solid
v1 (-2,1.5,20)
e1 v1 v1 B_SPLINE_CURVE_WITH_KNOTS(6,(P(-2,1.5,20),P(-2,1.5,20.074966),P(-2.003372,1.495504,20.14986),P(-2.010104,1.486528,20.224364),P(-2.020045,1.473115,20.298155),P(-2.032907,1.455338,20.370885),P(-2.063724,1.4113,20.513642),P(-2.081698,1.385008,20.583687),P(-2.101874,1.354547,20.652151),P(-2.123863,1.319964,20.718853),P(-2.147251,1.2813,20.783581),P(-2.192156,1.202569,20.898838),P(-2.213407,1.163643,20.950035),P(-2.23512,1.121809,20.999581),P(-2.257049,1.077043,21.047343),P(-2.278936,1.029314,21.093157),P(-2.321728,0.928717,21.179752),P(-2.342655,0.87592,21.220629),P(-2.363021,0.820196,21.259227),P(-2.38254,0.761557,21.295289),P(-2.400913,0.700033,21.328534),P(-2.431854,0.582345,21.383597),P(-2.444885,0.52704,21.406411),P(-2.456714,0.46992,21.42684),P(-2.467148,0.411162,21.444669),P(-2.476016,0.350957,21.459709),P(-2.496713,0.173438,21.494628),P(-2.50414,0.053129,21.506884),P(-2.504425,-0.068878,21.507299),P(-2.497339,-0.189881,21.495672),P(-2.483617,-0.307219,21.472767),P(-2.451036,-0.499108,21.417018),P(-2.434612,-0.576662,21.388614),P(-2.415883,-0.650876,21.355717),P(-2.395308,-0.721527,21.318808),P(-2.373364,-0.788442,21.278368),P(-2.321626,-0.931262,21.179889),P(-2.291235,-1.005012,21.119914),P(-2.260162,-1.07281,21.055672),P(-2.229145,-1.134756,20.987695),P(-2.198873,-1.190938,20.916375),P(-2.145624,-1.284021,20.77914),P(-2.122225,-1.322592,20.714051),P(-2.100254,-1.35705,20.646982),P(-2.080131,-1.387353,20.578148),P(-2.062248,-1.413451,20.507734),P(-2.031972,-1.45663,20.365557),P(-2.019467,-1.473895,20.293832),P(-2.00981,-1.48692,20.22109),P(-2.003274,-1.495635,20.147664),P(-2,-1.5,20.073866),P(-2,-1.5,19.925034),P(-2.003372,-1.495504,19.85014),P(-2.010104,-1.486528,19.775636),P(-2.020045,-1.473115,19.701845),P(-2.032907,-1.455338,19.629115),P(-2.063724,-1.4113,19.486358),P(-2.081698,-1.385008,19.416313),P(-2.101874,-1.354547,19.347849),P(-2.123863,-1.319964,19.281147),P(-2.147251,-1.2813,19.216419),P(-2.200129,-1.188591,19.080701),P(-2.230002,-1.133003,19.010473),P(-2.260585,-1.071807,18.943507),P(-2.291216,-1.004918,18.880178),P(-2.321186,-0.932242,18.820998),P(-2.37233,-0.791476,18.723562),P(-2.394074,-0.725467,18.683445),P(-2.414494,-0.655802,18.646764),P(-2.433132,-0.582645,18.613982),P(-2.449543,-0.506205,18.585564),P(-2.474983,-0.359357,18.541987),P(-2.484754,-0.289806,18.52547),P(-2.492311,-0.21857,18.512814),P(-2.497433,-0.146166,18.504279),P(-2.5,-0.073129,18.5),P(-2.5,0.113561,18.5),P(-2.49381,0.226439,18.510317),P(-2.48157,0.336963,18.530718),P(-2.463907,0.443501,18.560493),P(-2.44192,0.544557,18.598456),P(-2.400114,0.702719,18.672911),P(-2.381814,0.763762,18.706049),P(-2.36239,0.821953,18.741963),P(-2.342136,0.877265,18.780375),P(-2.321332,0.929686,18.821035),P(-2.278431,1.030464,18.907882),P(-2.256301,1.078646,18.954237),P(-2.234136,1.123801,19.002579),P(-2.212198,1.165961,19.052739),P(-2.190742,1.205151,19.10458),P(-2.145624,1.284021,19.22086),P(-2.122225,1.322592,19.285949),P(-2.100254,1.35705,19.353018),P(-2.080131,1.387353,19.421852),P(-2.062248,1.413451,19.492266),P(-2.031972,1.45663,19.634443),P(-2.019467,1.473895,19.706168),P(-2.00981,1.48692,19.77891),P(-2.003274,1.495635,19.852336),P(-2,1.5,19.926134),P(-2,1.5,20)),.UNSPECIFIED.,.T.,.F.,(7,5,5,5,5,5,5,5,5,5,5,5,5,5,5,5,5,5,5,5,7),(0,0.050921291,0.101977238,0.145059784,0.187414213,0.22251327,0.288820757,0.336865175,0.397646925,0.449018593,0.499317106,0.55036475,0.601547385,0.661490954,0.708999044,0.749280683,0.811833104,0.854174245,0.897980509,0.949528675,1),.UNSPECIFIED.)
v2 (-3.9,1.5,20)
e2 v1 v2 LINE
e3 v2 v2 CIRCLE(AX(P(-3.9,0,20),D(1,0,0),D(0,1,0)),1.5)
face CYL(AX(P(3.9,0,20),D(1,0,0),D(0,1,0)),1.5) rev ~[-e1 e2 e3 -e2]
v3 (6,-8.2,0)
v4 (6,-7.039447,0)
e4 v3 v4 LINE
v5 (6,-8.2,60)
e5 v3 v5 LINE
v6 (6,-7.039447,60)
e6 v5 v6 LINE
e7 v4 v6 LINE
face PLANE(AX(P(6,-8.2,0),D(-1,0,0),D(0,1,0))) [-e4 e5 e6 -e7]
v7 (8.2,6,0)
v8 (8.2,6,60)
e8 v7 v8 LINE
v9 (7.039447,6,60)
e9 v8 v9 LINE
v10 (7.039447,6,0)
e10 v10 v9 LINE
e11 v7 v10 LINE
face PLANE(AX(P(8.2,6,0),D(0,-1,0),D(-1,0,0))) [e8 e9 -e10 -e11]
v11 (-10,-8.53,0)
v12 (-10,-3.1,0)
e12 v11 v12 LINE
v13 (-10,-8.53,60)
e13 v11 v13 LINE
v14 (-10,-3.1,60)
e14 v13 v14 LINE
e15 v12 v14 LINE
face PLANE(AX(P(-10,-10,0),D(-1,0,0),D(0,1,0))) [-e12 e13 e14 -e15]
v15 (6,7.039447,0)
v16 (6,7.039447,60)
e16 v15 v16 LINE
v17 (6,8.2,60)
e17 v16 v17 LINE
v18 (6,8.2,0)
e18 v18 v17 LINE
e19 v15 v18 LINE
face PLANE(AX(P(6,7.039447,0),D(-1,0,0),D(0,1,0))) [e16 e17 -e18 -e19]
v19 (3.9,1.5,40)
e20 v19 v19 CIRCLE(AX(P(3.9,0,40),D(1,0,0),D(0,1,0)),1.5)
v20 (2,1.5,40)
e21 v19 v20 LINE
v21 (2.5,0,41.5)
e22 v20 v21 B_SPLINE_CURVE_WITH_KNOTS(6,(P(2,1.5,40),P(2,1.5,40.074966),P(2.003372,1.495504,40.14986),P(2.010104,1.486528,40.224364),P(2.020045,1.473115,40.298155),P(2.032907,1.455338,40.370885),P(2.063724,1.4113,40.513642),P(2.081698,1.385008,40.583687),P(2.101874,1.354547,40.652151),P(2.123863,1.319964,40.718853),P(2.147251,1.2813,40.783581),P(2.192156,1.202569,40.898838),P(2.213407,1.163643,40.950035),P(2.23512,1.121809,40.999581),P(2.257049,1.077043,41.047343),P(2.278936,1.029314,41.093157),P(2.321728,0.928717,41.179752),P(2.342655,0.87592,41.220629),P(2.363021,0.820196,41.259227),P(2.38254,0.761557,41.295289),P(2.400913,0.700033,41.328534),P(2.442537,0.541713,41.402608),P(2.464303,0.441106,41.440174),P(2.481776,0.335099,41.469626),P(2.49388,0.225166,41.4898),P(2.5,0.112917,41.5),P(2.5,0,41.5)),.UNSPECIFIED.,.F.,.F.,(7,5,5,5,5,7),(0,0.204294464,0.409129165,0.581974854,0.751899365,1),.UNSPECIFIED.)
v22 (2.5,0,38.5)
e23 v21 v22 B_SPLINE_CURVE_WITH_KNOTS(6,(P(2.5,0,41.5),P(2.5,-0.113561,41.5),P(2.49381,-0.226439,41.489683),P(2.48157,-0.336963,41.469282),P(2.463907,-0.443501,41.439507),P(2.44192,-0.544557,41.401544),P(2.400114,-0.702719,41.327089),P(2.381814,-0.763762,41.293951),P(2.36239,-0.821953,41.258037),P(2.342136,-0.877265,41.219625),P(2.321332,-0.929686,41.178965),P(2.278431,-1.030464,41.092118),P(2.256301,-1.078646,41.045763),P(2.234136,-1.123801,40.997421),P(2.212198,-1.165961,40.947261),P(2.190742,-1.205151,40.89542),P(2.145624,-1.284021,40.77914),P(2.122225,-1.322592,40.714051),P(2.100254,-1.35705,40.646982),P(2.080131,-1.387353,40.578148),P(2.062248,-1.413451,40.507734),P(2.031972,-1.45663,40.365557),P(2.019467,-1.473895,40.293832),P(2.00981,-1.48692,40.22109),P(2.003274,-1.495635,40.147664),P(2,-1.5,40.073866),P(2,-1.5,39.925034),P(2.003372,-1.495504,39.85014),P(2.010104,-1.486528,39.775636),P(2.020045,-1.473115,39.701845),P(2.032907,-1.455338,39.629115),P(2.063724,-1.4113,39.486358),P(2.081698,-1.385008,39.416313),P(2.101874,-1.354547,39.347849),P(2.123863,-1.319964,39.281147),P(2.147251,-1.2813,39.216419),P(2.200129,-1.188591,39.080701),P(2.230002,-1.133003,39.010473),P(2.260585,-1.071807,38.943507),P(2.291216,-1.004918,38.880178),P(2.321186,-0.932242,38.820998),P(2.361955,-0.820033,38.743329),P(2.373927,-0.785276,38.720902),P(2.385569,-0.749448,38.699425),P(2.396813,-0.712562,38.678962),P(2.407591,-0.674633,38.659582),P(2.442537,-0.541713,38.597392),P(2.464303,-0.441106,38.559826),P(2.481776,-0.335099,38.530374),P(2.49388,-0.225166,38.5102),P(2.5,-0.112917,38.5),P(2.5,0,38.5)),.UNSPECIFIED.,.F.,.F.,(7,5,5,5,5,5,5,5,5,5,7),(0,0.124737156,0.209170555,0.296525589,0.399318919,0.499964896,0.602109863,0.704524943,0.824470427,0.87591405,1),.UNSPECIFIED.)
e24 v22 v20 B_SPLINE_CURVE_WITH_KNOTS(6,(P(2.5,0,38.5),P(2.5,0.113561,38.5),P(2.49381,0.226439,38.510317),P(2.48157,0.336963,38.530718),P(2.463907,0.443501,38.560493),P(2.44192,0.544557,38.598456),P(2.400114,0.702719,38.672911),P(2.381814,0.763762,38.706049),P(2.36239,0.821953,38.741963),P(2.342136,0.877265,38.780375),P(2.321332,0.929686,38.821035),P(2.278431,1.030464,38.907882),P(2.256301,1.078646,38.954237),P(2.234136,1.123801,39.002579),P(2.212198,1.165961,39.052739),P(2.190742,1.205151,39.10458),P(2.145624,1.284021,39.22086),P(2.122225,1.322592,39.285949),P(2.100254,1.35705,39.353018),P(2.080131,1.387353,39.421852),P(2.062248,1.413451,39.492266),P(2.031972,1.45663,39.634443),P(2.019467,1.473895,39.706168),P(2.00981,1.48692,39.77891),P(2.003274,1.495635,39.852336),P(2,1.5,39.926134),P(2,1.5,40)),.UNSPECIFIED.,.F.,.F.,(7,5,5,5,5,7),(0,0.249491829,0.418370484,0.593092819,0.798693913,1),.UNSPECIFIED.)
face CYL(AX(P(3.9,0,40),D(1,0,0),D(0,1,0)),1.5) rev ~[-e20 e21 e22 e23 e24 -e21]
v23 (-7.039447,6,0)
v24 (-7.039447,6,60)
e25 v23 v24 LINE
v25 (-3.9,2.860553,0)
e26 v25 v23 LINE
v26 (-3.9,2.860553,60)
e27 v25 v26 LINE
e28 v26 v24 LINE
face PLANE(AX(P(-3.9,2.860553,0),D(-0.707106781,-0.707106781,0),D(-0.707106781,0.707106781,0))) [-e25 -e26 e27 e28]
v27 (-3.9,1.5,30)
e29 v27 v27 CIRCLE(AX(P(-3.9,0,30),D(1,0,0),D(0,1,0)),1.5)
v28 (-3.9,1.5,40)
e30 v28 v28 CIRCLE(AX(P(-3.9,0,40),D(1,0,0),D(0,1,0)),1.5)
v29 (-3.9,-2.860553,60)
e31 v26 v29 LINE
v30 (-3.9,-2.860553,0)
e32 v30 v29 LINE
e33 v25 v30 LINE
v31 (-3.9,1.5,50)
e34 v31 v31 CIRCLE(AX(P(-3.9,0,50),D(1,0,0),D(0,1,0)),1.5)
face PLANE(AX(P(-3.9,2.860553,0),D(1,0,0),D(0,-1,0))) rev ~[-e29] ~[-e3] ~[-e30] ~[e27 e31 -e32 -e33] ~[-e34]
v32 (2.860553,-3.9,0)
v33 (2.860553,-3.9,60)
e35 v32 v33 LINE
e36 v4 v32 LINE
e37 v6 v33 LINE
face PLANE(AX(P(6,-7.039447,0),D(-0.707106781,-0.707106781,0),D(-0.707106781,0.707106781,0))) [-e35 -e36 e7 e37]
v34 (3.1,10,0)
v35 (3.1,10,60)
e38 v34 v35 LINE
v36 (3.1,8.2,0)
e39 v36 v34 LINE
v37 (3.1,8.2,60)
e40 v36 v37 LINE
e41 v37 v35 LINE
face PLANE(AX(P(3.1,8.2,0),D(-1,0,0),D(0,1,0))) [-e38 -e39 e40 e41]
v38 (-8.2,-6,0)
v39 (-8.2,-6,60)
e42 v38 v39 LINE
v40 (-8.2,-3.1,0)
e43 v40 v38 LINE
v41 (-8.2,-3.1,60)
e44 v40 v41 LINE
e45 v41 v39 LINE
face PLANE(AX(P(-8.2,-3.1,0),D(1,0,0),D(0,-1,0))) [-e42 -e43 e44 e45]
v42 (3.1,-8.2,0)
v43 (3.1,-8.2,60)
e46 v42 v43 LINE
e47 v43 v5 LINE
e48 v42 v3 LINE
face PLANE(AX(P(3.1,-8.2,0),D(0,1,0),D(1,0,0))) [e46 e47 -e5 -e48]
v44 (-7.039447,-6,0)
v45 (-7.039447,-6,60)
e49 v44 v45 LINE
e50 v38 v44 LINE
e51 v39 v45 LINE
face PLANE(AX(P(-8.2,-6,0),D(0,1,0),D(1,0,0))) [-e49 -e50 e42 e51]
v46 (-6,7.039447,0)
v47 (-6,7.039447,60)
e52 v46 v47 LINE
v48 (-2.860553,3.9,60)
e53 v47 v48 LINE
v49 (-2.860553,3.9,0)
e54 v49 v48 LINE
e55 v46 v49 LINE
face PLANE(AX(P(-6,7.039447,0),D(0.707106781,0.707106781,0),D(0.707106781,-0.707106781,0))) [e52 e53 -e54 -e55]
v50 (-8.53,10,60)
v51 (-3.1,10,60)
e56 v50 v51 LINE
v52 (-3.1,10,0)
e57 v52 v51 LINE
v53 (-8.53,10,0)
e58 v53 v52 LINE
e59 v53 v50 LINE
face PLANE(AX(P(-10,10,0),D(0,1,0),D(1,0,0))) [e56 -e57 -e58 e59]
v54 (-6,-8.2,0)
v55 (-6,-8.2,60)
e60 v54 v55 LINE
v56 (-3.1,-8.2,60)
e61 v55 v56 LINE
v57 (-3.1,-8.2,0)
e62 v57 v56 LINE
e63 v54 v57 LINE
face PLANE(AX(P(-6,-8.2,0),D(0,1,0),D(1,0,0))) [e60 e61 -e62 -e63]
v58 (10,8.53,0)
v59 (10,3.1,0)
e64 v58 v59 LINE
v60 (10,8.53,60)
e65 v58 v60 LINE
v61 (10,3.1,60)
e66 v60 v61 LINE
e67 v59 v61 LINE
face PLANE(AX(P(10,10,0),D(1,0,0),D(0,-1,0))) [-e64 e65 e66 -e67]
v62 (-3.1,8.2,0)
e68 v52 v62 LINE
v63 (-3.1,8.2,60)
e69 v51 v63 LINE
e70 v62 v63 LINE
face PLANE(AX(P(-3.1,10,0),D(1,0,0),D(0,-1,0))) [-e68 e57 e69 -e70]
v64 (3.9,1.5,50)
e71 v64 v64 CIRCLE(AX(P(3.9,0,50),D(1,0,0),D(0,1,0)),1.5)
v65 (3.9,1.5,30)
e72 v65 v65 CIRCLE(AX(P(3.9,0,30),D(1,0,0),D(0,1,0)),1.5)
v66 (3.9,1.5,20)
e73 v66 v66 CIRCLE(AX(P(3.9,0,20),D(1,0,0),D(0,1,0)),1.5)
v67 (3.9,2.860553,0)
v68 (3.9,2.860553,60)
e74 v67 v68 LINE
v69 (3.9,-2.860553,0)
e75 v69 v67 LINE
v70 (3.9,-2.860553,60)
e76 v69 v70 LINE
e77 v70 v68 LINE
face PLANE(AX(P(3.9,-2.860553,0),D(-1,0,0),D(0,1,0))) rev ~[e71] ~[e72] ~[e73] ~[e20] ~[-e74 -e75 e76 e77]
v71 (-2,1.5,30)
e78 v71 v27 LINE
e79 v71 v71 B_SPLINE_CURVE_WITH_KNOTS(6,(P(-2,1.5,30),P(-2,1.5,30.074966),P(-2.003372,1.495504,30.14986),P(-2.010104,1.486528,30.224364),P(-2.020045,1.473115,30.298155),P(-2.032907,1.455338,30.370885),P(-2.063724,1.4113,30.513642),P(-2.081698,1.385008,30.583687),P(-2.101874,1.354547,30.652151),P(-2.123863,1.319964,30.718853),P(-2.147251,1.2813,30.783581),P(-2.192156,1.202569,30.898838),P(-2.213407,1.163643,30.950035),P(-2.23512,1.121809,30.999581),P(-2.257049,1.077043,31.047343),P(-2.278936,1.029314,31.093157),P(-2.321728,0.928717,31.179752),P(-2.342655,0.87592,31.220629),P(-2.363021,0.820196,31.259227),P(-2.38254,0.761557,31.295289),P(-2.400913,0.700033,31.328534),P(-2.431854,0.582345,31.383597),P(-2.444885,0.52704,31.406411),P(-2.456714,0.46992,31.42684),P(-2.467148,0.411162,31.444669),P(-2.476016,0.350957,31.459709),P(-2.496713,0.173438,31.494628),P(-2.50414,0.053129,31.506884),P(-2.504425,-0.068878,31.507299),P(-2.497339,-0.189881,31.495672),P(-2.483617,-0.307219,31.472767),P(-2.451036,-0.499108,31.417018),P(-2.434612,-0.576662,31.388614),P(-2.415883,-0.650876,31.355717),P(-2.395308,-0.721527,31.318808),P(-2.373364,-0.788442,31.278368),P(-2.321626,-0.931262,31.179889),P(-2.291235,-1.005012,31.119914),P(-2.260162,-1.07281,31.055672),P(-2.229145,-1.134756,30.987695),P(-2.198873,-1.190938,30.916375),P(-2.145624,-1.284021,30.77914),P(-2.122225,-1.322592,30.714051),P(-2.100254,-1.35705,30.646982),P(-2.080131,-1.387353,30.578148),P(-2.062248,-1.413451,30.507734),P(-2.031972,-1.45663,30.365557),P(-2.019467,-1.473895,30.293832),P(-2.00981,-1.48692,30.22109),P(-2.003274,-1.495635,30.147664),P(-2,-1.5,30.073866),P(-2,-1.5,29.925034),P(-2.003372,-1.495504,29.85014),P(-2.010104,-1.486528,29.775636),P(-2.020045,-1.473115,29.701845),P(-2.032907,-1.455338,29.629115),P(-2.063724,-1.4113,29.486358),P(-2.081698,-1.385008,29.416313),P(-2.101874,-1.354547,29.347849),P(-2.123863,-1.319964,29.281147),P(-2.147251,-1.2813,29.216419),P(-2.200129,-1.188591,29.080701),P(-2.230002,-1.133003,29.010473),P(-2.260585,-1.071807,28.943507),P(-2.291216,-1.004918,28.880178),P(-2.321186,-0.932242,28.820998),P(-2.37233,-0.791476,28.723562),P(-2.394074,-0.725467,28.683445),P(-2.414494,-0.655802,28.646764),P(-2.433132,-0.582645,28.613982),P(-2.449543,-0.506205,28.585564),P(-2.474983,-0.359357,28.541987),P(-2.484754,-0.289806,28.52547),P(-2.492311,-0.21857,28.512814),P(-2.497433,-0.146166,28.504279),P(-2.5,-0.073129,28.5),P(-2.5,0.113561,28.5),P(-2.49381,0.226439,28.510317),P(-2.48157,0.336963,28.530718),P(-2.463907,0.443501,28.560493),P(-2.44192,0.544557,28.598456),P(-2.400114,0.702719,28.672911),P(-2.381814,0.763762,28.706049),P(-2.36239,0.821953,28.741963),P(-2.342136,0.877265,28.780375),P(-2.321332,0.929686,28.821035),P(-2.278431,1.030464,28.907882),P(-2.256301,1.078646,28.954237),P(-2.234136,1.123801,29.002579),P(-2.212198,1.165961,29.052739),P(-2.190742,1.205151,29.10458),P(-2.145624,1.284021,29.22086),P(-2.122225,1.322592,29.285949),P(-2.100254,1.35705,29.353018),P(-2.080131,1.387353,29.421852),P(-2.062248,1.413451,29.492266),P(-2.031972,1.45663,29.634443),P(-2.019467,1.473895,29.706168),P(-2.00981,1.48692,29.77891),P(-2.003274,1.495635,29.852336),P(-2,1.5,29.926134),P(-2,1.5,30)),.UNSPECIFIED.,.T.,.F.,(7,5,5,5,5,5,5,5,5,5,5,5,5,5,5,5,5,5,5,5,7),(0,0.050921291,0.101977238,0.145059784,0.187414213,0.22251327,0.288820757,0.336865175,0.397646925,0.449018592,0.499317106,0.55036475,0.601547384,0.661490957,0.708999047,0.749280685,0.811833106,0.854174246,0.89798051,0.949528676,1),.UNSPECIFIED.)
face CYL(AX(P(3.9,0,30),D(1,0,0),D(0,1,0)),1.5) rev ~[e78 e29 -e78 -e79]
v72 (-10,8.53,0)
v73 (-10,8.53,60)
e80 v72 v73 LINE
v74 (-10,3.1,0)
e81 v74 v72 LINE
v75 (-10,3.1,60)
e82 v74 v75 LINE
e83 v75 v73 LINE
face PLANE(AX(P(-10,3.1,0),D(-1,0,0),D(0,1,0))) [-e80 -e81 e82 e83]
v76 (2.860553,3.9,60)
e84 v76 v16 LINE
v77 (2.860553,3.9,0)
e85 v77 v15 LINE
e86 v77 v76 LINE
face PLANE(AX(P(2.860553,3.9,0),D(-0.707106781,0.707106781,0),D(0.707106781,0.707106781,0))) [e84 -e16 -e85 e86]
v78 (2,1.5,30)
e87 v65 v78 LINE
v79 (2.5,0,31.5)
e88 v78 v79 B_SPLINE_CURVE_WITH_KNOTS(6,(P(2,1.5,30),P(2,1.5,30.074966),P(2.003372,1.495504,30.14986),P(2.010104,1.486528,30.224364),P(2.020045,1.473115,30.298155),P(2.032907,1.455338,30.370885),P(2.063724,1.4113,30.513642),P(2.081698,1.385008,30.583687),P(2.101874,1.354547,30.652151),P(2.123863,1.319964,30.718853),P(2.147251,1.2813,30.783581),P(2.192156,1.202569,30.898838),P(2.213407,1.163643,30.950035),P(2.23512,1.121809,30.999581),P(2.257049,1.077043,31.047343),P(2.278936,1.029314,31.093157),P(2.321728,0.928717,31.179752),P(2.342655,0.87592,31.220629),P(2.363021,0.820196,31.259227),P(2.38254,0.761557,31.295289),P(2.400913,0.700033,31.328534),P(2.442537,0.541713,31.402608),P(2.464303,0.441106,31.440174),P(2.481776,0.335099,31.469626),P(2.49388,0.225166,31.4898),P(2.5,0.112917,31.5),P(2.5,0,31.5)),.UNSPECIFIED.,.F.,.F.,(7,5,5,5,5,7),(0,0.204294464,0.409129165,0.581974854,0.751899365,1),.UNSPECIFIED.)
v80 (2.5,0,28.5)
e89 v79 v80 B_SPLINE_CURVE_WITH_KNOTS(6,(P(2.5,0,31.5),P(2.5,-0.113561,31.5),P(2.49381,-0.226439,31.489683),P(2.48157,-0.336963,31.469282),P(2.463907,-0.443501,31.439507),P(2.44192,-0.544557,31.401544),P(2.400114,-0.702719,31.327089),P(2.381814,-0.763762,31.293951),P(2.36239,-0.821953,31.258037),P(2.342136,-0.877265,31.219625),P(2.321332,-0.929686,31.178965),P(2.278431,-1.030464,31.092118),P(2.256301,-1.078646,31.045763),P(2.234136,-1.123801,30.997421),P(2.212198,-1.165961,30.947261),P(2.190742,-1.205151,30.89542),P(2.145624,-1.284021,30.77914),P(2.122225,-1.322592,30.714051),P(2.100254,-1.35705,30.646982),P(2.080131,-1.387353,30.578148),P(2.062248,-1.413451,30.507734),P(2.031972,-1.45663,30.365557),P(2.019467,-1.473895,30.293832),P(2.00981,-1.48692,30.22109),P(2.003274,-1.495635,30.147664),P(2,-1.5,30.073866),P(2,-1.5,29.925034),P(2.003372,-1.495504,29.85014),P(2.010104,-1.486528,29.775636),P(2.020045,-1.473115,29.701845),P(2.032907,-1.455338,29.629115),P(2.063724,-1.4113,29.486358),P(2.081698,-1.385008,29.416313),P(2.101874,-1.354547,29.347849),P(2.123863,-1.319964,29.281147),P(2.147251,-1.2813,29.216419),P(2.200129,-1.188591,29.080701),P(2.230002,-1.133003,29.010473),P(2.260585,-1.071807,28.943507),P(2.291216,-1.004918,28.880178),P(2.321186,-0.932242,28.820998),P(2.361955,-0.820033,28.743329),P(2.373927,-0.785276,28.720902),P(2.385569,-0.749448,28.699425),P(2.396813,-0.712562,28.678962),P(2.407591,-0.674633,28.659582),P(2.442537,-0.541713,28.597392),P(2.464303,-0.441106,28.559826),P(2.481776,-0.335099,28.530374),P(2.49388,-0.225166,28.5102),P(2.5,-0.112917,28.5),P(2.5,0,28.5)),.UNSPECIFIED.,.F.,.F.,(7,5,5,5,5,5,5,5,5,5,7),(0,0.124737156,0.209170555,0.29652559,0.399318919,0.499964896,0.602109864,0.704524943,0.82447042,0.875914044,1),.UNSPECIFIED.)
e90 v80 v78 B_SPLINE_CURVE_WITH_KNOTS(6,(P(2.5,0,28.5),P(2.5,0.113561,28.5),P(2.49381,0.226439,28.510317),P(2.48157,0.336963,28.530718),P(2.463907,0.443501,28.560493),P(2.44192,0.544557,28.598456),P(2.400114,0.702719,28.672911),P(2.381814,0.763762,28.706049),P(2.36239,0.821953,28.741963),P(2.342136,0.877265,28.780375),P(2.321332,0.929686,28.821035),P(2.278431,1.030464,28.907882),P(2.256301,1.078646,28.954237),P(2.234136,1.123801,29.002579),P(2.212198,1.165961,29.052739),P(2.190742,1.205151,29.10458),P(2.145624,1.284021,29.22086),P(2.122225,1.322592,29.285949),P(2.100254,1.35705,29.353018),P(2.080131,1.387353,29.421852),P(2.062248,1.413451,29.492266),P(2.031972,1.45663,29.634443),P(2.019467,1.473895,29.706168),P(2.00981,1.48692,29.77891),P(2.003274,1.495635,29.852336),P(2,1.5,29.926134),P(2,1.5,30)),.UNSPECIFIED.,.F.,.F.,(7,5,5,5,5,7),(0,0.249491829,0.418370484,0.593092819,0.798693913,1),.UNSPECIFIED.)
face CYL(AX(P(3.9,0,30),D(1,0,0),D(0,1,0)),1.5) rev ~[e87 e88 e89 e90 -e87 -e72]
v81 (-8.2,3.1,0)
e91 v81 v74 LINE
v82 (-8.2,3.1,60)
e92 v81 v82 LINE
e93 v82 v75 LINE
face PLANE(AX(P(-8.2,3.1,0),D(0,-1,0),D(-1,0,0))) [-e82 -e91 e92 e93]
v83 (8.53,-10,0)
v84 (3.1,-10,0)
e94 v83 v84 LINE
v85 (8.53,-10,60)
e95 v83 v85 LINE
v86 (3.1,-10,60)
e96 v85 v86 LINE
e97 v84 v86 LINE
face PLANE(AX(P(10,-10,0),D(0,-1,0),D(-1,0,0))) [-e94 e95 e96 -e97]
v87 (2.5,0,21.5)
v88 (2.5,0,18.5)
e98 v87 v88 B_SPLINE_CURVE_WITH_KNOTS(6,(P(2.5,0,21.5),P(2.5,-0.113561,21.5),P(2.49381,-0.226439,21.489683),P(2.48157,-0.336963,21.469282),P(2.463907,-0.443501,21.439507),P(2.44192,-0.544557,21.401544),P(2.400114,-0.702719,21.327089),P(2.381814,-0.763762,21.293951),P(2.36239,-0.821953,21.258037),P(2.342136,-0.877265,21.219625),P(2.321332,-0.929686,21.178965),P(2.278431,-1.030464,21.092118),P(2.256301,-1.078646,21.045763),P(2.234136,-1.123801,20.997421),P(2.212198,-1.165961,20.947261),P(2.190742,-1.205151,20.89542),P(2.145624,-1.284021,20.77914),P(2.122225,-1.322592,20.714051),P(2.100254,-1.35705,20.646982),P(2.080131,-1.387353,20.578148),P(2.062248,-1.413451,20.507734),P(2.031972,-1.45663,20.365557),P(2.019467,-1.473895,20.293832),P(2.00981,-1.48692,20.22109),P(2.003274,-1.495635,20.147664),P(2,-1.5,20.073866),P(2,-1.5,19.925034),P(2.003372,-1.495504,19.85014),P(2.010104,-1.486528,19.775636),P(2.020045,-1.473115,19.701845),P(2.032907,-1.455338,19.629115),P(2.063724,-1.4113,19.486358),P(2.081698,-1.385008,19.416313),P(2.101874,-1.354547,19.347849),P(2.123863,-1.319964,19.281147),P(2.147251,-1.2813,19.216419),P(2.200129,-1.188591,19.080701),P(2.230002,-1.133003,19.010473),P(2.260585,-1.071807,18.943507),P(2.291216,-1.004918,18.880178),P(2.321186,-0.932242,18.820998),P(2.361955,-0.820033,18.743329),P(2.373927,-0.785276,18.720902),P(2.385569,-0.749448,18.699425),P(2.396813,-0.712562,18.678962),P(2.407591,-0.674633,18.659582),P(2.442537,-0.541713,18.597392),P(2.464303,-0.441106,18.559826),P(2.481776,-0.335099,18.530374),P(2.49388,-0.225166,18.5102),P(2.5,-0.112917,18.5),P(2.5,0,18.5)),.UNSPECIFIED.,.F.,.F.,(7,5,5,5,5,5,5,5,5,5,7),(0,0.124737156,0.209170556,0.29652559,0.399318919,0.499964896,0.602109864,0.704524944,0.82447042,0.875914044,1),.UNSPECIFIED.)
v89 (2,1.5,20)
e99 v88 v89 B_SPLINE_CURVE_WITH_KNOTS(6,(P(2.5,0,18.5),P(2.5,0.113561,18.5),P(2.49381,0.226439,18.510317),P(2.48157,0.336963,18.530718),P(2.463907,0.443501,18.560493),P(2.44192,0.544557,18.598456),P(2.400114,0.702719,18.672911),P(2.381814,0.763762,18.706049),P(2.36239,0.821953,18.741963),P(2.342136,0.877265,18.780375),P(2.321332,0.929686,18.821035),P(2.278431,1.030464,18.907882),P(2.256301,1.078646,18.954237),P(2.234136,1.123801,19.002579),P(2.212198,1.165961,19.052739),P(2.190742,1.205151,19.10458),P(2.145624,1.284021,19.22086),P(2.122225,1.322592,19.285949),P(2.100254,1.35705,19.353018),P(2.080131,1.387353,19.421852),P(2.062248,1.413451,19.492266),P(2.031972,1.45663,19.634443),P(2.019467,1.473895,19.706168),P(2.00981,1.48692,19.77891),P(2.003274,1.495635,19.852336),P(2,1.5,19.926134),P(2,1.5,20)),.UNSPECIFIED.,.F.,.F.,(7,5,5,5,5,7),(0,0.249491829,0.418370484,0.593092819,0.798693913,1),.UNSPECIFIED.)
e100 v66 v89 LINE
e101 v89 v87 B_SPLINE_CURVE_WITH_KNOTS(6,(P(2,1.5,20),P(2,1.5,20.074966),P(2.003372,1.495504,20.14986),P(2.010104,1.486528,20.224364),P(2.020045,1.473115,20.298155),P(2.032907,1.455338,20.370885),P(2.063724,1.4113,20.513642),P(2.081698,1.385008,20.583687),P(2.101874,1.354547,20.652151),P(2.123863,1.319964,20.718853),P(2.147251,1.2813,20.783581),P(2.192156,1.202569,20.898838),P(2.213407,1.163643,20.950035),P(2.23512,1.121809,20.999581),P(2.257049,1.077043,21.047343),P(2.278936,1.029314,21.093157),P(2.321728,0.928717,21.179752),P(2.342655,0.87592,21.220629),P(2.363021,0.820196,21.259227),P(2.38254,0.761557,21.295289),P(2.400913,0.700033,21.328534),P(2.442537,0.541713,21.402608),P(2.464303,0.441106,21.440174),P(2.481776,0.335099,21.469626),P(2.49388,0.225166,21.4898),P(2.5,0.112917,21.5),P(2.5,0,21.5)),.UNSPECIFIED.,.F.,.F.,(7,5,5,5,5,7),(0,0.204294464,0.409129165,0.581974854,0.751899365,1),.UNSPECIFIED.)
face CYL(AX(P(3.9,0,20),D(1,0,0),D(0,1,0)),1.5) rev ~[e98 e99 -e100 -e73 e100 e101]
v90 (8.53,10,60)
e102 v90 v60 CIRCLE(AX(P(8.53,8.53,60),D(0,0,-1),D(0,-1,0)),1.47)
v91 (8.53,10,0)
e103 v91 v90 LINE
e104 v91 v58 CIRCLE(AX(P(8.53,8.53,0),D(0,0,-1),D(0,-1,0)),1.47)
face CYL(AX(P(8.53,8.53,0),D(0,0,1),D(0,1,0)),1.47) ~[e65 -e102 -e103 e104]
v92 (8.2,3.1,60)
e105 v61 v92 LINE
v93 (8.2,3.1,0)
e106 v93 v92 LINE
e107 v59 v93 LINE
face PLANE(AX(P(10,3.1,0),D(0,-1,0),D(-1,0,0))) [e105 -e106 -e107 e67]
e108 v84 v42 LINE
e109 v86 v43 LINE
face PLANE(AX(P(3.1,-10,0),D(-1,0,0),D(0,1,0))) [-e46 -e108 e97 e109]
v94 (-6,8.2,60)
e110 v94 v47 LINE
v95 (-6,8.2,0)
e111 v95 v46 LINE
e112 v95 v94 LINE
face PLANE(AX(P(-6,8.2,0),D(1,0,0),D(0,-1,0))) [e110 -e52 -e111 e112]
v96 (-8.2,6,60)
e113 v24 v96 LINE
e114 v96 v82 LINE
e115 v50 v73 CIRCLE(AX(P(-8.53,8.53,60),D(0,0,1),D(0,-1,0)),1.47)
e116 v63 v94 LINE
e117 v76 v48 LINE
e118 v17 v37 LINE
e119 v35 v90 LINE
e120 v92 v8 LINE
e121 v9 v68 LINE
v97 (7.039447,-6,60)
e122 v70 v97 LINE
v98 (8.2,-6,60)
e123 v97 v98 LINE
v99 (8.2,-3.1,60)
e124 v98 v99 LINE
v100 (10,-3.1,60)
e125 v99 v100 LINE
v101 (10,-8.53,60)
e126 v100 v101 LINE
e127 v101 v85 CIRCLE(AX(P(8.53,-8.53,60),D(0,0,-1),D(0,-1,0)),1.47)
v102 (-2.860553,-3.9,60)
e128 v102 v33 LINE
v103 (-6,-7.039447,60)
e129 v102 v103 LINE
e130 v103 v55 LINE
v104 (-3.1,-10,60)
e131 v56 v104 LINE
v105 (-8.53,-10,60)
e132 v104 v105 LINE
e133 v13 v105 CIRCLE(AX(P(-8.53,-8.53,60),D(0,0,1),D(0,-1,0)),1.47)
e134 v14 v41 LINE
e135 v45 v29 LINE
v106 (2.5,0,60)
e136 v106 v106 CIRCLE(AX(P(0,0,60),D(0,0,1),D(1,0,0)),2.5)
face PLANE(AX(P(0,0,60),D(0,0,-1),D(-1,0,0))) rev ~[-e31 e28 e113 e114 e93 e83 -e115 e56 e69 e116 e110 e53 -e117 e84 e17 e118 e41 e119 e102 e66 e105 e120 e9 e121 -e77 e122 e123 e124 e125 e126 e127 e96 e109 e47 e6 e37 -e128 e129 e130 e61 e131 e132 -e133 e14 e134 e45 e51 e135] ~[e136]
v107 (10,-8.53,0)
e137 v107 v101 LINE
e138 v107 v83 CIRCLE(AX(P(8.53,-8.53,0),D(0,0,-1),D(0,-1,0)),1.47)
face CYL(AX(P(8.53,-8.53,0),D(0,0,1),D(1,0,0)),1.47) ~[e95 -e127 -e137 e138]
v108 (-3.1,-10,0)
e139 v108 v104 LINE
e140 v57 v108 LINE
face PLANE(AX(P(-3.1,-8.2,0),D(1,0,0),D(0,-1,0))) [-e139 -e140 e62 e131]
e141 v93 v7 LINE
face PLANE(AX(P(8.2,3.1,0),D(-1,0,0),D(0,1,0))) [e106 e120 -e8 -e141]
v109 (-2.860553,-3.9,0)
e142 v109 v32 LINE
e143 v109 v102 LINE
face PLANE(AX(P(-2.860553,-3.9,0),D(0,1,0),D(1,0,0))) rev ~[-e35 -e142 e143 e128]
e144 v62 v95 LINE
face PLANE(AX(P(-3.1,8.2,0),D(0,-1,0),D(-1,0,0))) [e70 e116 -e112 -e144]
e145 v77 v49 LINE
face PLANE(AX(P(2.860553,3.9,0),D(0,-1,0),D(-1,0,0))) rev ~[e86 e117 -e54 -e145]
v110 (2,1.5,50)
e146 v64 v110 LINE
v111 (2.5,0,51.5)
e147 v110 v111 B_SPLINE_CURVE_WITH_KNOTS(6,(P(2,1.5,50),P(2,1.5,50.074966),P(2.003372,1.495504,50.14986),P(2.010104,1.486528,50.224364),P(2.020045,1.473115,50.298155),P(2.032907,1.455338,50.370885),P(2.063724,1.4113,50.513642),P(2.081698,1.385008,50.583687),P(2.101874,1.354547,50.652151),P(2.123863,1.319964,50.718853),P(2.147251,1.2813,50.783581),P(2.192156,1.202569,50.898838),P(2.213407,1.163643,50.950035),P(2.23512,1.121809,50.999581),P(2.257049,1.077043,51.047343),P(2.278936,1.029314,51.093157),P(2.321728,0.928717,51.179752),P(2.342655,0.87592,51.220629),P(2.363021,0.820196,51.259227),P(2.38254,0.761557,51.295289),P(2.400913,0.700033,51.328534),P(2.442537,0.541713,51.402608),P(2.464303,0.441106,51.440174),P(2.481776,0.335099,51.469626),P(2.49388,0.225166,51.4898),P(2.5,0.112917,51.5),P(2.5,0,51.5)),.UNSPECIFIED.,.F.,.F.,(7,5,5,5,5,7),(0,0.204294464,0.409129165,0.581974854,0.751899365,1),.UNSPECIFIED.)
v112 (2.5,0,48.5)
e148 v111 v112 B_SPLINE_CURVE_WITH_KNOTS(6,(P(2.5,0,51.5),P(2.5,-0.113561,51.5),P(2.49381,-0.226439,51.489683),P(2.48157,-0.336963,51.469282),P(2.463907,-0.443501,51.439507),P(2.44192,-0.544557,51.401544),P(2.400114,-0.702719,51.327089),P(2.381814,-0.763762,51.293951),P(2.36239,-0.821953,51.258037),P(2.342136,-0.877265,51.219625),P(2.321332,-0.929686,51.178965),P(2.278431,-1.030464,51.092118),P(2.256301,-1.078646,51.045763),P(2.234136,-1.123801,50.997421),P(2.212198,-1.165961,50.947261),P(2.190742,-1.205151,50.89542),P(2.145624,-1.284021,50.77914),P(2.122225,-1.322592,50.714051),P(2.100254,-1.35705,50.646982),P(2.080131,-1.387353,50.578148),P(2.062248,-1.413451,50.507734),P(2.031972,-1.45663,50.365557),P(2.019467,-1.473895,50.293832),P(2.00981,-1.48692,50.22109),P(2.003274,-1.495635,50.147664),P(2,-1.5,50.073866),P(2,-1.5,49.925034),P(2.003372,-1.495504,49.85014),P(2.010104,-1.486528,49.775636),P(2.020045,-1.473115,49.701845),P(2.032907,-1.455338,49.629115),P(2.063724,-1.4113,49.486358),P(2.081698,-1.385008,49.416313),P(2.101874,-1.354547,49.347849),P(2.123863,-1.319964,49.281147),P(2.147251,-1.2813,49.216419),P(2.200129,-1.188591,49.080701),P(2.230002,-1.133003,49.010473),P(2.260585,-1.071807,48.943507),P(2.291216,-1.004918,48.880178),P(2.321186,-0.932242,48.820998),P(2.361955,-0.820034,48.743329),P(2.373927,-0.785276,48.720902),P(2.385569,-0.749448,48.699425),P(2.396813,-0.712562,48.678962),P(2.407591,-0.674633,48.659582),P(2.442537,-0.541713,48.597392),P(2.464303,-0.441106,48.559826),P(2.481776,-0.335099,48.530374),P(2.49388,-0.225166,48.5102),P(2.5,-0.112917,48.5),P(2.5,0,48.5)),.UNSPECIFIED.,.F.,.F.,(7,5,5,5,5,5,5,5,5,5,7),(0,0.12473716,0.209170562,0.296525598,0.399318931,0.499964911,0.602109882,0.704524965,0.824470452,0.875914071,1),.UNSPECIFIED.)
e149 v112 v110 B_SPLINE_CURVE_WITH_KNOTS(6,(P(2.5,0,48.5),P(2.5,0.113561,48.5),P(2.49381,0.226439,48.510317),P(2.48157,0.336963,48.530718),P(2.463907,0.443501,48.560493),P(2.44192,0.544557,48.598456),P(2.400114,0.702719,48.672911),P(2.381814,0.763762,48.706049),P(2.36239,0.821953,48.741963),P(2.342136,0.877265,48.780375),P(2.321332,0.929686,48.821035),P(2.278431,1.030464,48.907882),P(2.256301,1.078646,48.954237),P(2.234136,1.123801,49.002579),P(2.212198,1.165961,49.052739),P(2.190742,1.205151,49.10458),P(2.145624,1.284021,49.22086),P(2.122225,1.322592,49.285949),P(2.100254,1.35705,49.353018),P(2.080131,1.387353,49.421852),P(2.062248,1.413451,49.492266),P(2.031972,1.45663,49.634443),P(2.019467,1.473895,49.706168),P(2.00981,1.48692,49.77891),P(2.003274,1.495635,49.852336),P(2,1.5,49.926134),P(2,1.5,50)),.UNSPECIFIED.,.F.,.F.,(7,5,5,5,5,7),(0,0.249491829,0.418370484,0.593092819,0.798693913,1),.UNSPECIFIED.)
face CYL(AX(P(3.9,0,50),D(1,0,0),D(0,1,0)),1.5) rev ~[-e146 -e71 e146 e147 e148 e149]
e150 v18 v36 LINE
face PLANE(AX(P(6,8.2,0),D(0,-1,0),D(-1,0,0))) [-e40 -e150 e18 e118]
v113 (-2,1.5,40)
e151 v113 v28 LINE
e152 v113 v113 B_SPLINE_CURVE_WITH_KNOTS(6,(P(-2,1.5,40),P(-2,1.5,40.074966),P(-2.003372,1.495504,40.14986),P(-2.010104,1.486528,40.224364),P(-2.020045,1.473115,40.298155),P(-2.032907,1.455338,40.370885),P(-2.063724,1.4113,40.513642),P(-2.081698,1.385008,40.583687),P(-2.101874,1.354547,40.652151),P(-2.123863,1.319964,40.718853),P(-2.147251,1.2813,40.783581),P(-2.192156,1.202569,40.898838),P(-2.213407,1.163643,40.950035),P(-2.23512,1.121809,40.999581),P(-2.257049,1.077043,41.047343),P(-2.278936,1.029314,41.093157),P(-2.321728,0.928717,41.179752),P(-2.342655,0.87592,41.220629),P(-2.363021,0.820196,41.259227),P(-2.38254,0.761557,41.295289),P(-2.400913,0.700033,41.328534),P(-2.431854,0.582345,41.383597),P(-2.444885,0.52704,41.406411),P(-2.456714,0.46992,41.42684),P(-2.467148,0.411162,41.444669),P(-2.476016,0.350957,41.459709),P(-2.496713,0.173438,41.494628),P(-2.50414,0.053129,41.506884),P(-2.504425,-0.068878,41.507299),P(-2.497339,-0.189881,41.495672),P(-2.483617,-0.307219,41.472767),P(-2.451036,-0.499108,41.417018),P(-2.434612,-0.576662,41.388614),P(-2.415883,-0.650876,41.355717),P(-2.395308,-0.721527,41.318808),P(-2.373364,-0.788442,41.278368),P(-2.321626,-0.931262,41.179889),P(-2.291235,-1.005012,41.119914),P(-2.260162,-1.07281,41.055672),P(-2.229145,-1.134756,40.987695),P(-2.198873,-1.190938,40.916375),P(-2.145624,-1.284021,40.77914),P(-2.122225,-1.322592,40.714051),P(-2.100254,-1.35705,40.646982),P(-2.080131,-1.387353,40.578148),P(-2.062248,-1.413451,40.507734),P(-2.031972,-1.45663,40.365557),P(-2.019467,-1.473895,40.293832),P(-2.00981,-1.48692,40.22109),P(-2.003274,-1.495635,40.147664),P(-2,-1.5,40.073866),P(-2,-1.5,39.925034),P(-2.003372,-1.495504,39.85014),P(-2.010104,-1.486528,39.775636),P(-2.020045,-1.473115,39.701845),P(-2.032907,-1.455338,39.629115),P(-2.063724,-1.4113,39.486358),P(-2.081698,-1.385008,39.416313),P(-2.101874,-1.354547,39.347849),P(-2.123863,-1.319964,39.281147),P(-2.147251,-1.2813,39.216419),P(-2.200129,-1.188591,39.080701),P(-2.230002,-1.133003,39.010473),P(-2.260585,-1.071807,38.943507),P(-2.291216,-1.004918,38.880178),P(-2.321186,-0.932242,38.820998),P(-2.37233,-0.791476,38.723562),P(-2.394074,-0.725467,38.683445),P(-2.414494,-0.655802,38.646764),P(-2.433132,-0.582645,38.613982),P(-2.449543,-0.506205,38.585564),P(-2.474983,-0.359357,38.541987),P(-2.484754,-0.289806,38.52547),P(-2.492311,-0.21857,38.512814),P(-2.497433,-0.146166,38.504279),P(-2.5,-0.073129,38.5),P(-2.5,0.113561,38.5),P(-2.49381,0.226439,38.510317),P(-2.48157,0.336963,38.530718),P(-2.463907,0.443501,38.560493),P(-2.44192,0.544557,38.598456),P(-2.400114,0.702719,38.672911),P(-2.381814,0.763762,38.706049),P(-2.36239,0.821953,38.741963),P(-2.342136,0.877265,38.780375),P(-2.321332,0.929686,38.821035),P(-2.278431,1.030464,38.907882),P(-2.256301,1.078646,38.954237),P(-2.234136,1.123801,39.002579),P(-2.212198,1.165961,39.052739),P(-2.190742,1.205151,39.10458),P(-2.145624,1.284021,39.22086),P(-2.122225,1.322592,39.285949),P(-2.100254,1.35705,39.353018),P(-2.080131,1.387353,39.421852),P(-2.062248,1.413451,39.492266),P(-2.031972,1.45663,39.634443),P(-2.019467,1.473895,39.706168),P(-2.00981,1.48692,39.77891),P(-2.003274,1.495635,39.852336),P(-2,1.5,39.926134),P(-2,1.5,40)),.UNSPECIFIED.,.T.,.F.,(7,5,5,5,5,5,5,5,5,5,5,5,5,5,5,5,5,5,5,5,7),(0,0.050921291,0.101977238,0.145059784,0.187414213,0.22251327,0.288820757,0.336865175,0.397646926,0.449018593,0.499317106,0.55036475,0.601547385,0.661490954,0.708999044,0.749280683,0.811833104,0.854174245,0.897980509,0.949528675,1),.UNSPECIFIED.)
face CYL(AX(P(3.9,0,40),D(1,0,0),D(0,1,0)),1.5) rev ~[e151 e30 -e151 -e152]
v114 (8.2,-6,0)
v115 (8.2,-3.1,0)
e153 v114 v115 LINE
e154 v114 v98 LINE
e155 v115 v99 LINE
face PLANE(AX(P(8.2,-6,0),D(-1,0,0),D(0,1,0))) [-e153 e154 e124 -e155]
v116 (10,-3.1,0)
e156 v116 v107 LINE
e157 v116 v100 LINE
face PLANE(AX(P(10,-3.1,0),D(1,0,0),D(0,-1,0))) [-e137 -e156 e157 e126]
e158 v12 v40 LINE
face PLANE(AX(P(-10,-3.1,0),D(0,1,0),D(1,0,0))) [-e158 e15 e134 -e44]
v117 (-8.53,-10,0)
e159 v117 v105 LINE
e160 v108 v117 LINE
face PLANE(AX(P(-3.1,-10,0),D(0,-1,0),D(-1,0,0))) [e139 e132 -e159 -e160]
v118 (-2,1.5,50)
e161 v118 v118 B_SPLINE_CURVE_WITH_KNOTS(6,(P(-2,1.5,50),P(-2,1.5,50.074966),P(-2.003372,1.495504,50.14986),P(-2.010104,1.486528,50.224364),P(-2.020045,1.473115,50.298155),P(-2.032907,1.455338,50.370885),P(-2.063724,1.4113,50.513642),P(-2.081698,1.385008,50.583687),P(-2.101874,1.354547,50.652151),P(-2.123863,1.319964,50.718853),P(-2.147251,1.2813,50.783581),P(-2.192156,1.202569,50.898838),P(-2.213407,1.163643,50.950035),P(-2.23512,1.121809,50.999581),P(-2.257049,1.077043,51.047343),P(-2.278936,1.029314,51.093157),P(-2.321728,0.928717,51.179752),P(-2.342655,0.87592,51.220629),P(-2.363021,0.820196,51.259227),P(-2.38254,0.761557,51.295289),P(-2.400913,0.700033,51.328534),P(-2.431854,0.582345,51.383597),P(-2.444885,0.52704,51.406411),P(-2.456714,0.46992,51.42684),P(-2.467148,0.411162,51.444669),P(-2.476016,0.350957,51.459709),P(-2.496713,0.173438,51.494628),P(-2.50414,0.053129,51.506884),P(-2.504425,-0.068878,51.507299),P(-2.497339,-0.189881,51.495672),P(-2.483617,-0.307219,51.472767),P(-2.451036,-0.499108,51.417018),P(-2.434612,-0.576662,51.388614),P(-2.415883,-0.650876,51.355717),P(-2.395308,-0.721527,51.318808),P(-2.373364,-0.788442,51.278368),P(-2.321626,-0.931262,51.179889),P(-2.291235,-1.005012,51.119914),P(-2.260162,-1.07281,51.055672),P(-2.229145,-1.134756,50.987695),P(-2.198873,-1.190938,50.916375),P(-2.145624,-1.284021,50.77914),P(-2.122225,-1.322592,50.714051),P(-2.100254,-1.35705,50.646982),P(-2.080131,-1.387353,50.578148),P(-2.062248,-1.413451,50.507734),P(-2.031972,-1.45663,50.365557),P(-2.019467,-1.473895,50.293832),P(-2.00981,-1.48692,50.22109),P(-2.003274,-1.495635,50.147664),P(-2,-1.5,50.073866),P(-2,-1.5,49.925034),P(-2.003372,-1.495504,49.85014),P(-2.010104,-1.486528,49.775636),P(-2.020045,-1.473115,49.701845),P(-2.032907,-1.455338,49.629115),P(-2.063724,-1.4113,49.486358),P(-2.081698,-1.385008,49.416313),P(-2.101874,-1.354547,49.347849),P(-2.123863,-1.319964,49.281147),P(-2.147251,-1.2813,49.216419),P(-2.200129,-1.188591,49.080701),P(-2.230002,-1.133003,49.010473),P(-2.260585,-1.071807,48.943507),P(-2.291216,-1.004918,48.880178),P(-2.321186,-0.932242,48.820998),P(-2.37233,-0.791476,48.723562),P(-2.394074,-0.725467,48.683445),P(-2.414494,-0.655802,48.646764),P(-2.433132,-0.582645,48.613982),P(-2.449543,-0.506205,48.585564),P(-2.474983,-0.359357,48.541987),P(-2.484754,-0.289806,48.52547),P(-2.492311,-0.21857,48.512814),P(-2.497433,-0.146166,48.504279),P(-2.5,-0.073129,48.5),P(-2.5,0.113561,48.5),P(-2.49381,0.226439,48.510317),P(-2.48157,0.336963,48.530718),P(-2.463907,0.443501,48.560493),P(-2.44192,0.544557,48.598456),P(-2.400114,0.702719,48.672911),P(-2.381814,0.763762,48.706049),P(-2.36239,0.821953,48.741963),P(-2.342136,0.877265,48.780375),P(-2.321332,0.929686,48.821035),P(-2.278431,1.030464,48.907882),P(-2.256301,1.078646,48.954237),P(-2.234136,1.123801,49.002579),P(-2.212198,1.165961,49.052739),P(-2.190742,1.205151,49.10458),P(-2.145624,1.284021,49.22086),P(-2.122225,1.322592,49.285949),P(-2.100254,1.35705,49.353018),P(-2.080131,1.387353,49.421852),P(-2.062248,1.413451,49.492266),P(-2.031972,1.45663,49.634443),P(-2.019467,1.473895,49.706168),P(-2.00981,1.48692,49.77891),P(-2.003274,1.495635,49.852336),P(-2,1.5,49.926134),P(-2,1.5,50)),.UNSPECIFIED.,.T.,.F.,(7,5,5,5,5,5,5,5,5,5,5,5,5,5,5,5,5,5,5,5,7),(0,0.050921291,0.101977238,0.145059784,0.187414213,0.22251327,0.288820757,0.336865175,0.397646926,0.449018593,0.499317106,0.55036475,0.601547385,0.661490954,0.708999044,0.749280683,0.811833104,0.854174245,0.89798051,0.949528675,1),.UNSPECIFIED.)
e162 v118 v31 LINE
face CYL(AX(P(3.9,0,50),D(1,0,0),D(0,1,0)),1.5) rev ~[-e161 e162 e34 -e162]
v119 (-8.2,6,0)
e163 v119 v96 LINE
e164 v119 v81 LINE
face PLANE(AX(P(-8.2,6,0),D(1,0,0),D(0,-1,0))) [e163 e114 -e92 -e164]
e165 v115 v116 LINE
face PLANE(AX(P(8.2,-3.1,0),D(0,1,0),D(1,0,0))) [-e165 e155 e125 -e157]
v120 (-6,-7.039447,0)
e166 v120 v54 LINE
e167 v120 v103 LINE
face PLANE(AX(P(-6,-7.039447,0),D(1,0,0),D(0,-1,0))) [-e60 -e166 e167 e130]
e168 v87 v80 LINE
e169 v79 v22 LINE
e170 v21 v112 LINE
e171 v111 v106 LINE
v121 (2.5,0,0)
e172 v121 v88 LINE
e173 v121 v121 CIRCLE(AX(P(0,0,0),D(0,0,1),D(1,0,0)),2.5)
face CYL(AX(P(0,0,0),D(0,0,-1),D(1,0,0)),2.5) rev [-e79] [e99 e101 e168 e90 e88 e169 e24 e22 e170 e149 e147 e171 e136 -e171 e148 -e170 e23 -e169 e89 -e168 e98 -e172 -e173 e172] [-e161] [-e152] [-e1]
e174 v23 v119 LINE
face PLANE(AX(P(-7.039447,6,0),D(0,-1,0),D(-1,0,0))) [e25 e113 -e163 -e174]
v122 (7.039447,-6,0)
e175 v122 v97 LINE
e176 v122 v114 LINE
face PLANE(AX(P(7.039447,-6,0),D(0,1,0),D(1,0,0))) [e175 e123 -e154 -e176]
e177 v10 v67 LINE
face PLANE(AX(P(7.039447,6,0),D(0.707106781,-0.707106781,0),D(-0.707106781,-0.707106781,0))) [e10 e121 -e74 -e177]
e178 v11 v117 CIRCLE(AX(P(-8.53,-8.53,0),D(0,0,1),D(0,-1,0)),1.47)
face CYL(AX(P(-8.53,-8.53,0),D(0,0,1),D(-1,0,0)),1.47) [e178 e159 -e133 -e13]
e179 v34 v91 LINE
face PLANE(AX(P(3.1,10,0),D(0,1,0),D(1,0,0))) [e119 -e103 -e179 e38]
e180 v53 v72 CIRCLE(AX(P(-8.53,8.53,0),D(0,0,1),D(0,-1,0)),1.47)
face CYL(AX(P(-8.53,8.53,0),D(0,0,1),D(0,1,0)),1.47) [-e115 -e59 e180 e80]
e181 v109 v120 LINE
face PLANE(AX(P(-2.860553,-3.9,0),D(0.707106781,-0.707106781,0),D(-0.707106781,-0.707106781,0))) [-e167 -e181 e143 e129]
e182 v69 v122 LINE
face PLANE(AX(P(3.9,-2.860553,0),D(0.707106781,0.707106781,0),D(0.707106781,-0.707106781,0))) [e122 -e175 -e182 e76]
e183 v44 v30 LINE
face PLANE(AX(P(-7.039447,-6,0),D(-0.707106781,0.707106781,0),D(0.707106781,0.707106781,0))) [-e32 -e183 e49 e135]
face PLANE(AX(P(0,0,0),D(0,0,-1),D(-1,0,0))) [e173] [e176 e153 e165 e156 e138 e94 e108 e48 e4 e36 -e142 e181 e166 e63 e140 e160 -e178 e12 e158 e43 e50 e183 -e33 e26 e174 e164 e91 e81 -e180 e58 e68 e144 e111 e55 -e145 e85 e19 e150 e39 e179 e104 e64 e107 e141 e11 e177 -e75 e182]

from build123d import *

# Parameters (mm, degrees)
SKETCH1_R           = 2.5
BOSS_EXTRUDE1_DEPTH = 60
FILLET1_R           = 1.47
SKETCH2_R           = 1.5
CUT_EXTRUDE1_DEPTH  = 63.395592793


with BuildPart() as part:
    # Sketch1 → Boss-Extrude1 (new body)
    with BuildSketch(Plane.XY):
        Polygon((2.860553032, 3.9), (6, 7.039446968), (6, 8.2), (3.1, 8.2), (3.1, 10), (10, 10), (10, 3.1), (8.2, 3.1), (8.2, 6), (7.039446968, 6), (3.9, 2.860553032), (3.9, 0), (3.9, -2.860553032), (7.039446968, -6), (8.2, -6), (8.2, -3.1), (10, -3.1), (10, -10), (3.1, -10), (3.1, -8.2), (6, -8.2), (6, -7.039446968), (2.860553032, -3.9), (0, -3.9), (-2.860553032, -3.9), (-6, -7.039446968), (-6, -8.2), (-3.1, -8.2), (-3.1, -10), (-10, -10), (-10, -3.1), (-8.2, -3.1), (-8.2, -6), (-7.039446968, -6), (-3.9, -2.860553032), (-3.9, 0), (-3.9, 2.860553032), (-7.039446968, 6), (-8.2, 6), (-8.2, 3.1), (-10, 3.1), (-10, 10), (-3.1, 10), (-3.1, 8.2), (-6, 8.2), (-6, 7.039446968), (-2.860553032, 3.9), (0, 3.9), align=None)
        Circle(SKETCH1_R, mode=Mode.SUBTRACT)
    extrude(amount=BOSS_EXTRUDE1_DEPTH)

    # Fillet1
    fillet1_edges = [part.edges().sort_by_distance(p)[0] for p in [
        (10, -10, 30),
        (-10, -10, 30),
        (-10, 10, 30),
        (10, 10, 30),
    ]]
    fillet(fillet1_edges, radius=FILLET1_R)

    # Sketch2 → Cut-Extrude1 (cut, through all)
    with BuildSketch(Plane(origin=(3.9, 0, 0), x_dir=(0, 0, -1), z_dir=(1, 0, 0))):
        with Locations(Location((-50, 0, 0), (0, 0, 90))):
            Circle(SKETCH2_R)
        with Locations(Location((-40, 0, 0), (0, 0, 90))):
            Circle(SKETCH2_R)
        with Locations(Location((-30, 0, 0), (0, 0, 90))):
            Circle(SKETCH2_R)
        with Locations(Location((-20, 0, 0), (0, 0, 90))):
            Circle(SKETCH2_R)
    extrude(amount=-CUT_EXTRUDE1_DEPTH, mode=Mode.SUBTRACT)


solid = part.part
